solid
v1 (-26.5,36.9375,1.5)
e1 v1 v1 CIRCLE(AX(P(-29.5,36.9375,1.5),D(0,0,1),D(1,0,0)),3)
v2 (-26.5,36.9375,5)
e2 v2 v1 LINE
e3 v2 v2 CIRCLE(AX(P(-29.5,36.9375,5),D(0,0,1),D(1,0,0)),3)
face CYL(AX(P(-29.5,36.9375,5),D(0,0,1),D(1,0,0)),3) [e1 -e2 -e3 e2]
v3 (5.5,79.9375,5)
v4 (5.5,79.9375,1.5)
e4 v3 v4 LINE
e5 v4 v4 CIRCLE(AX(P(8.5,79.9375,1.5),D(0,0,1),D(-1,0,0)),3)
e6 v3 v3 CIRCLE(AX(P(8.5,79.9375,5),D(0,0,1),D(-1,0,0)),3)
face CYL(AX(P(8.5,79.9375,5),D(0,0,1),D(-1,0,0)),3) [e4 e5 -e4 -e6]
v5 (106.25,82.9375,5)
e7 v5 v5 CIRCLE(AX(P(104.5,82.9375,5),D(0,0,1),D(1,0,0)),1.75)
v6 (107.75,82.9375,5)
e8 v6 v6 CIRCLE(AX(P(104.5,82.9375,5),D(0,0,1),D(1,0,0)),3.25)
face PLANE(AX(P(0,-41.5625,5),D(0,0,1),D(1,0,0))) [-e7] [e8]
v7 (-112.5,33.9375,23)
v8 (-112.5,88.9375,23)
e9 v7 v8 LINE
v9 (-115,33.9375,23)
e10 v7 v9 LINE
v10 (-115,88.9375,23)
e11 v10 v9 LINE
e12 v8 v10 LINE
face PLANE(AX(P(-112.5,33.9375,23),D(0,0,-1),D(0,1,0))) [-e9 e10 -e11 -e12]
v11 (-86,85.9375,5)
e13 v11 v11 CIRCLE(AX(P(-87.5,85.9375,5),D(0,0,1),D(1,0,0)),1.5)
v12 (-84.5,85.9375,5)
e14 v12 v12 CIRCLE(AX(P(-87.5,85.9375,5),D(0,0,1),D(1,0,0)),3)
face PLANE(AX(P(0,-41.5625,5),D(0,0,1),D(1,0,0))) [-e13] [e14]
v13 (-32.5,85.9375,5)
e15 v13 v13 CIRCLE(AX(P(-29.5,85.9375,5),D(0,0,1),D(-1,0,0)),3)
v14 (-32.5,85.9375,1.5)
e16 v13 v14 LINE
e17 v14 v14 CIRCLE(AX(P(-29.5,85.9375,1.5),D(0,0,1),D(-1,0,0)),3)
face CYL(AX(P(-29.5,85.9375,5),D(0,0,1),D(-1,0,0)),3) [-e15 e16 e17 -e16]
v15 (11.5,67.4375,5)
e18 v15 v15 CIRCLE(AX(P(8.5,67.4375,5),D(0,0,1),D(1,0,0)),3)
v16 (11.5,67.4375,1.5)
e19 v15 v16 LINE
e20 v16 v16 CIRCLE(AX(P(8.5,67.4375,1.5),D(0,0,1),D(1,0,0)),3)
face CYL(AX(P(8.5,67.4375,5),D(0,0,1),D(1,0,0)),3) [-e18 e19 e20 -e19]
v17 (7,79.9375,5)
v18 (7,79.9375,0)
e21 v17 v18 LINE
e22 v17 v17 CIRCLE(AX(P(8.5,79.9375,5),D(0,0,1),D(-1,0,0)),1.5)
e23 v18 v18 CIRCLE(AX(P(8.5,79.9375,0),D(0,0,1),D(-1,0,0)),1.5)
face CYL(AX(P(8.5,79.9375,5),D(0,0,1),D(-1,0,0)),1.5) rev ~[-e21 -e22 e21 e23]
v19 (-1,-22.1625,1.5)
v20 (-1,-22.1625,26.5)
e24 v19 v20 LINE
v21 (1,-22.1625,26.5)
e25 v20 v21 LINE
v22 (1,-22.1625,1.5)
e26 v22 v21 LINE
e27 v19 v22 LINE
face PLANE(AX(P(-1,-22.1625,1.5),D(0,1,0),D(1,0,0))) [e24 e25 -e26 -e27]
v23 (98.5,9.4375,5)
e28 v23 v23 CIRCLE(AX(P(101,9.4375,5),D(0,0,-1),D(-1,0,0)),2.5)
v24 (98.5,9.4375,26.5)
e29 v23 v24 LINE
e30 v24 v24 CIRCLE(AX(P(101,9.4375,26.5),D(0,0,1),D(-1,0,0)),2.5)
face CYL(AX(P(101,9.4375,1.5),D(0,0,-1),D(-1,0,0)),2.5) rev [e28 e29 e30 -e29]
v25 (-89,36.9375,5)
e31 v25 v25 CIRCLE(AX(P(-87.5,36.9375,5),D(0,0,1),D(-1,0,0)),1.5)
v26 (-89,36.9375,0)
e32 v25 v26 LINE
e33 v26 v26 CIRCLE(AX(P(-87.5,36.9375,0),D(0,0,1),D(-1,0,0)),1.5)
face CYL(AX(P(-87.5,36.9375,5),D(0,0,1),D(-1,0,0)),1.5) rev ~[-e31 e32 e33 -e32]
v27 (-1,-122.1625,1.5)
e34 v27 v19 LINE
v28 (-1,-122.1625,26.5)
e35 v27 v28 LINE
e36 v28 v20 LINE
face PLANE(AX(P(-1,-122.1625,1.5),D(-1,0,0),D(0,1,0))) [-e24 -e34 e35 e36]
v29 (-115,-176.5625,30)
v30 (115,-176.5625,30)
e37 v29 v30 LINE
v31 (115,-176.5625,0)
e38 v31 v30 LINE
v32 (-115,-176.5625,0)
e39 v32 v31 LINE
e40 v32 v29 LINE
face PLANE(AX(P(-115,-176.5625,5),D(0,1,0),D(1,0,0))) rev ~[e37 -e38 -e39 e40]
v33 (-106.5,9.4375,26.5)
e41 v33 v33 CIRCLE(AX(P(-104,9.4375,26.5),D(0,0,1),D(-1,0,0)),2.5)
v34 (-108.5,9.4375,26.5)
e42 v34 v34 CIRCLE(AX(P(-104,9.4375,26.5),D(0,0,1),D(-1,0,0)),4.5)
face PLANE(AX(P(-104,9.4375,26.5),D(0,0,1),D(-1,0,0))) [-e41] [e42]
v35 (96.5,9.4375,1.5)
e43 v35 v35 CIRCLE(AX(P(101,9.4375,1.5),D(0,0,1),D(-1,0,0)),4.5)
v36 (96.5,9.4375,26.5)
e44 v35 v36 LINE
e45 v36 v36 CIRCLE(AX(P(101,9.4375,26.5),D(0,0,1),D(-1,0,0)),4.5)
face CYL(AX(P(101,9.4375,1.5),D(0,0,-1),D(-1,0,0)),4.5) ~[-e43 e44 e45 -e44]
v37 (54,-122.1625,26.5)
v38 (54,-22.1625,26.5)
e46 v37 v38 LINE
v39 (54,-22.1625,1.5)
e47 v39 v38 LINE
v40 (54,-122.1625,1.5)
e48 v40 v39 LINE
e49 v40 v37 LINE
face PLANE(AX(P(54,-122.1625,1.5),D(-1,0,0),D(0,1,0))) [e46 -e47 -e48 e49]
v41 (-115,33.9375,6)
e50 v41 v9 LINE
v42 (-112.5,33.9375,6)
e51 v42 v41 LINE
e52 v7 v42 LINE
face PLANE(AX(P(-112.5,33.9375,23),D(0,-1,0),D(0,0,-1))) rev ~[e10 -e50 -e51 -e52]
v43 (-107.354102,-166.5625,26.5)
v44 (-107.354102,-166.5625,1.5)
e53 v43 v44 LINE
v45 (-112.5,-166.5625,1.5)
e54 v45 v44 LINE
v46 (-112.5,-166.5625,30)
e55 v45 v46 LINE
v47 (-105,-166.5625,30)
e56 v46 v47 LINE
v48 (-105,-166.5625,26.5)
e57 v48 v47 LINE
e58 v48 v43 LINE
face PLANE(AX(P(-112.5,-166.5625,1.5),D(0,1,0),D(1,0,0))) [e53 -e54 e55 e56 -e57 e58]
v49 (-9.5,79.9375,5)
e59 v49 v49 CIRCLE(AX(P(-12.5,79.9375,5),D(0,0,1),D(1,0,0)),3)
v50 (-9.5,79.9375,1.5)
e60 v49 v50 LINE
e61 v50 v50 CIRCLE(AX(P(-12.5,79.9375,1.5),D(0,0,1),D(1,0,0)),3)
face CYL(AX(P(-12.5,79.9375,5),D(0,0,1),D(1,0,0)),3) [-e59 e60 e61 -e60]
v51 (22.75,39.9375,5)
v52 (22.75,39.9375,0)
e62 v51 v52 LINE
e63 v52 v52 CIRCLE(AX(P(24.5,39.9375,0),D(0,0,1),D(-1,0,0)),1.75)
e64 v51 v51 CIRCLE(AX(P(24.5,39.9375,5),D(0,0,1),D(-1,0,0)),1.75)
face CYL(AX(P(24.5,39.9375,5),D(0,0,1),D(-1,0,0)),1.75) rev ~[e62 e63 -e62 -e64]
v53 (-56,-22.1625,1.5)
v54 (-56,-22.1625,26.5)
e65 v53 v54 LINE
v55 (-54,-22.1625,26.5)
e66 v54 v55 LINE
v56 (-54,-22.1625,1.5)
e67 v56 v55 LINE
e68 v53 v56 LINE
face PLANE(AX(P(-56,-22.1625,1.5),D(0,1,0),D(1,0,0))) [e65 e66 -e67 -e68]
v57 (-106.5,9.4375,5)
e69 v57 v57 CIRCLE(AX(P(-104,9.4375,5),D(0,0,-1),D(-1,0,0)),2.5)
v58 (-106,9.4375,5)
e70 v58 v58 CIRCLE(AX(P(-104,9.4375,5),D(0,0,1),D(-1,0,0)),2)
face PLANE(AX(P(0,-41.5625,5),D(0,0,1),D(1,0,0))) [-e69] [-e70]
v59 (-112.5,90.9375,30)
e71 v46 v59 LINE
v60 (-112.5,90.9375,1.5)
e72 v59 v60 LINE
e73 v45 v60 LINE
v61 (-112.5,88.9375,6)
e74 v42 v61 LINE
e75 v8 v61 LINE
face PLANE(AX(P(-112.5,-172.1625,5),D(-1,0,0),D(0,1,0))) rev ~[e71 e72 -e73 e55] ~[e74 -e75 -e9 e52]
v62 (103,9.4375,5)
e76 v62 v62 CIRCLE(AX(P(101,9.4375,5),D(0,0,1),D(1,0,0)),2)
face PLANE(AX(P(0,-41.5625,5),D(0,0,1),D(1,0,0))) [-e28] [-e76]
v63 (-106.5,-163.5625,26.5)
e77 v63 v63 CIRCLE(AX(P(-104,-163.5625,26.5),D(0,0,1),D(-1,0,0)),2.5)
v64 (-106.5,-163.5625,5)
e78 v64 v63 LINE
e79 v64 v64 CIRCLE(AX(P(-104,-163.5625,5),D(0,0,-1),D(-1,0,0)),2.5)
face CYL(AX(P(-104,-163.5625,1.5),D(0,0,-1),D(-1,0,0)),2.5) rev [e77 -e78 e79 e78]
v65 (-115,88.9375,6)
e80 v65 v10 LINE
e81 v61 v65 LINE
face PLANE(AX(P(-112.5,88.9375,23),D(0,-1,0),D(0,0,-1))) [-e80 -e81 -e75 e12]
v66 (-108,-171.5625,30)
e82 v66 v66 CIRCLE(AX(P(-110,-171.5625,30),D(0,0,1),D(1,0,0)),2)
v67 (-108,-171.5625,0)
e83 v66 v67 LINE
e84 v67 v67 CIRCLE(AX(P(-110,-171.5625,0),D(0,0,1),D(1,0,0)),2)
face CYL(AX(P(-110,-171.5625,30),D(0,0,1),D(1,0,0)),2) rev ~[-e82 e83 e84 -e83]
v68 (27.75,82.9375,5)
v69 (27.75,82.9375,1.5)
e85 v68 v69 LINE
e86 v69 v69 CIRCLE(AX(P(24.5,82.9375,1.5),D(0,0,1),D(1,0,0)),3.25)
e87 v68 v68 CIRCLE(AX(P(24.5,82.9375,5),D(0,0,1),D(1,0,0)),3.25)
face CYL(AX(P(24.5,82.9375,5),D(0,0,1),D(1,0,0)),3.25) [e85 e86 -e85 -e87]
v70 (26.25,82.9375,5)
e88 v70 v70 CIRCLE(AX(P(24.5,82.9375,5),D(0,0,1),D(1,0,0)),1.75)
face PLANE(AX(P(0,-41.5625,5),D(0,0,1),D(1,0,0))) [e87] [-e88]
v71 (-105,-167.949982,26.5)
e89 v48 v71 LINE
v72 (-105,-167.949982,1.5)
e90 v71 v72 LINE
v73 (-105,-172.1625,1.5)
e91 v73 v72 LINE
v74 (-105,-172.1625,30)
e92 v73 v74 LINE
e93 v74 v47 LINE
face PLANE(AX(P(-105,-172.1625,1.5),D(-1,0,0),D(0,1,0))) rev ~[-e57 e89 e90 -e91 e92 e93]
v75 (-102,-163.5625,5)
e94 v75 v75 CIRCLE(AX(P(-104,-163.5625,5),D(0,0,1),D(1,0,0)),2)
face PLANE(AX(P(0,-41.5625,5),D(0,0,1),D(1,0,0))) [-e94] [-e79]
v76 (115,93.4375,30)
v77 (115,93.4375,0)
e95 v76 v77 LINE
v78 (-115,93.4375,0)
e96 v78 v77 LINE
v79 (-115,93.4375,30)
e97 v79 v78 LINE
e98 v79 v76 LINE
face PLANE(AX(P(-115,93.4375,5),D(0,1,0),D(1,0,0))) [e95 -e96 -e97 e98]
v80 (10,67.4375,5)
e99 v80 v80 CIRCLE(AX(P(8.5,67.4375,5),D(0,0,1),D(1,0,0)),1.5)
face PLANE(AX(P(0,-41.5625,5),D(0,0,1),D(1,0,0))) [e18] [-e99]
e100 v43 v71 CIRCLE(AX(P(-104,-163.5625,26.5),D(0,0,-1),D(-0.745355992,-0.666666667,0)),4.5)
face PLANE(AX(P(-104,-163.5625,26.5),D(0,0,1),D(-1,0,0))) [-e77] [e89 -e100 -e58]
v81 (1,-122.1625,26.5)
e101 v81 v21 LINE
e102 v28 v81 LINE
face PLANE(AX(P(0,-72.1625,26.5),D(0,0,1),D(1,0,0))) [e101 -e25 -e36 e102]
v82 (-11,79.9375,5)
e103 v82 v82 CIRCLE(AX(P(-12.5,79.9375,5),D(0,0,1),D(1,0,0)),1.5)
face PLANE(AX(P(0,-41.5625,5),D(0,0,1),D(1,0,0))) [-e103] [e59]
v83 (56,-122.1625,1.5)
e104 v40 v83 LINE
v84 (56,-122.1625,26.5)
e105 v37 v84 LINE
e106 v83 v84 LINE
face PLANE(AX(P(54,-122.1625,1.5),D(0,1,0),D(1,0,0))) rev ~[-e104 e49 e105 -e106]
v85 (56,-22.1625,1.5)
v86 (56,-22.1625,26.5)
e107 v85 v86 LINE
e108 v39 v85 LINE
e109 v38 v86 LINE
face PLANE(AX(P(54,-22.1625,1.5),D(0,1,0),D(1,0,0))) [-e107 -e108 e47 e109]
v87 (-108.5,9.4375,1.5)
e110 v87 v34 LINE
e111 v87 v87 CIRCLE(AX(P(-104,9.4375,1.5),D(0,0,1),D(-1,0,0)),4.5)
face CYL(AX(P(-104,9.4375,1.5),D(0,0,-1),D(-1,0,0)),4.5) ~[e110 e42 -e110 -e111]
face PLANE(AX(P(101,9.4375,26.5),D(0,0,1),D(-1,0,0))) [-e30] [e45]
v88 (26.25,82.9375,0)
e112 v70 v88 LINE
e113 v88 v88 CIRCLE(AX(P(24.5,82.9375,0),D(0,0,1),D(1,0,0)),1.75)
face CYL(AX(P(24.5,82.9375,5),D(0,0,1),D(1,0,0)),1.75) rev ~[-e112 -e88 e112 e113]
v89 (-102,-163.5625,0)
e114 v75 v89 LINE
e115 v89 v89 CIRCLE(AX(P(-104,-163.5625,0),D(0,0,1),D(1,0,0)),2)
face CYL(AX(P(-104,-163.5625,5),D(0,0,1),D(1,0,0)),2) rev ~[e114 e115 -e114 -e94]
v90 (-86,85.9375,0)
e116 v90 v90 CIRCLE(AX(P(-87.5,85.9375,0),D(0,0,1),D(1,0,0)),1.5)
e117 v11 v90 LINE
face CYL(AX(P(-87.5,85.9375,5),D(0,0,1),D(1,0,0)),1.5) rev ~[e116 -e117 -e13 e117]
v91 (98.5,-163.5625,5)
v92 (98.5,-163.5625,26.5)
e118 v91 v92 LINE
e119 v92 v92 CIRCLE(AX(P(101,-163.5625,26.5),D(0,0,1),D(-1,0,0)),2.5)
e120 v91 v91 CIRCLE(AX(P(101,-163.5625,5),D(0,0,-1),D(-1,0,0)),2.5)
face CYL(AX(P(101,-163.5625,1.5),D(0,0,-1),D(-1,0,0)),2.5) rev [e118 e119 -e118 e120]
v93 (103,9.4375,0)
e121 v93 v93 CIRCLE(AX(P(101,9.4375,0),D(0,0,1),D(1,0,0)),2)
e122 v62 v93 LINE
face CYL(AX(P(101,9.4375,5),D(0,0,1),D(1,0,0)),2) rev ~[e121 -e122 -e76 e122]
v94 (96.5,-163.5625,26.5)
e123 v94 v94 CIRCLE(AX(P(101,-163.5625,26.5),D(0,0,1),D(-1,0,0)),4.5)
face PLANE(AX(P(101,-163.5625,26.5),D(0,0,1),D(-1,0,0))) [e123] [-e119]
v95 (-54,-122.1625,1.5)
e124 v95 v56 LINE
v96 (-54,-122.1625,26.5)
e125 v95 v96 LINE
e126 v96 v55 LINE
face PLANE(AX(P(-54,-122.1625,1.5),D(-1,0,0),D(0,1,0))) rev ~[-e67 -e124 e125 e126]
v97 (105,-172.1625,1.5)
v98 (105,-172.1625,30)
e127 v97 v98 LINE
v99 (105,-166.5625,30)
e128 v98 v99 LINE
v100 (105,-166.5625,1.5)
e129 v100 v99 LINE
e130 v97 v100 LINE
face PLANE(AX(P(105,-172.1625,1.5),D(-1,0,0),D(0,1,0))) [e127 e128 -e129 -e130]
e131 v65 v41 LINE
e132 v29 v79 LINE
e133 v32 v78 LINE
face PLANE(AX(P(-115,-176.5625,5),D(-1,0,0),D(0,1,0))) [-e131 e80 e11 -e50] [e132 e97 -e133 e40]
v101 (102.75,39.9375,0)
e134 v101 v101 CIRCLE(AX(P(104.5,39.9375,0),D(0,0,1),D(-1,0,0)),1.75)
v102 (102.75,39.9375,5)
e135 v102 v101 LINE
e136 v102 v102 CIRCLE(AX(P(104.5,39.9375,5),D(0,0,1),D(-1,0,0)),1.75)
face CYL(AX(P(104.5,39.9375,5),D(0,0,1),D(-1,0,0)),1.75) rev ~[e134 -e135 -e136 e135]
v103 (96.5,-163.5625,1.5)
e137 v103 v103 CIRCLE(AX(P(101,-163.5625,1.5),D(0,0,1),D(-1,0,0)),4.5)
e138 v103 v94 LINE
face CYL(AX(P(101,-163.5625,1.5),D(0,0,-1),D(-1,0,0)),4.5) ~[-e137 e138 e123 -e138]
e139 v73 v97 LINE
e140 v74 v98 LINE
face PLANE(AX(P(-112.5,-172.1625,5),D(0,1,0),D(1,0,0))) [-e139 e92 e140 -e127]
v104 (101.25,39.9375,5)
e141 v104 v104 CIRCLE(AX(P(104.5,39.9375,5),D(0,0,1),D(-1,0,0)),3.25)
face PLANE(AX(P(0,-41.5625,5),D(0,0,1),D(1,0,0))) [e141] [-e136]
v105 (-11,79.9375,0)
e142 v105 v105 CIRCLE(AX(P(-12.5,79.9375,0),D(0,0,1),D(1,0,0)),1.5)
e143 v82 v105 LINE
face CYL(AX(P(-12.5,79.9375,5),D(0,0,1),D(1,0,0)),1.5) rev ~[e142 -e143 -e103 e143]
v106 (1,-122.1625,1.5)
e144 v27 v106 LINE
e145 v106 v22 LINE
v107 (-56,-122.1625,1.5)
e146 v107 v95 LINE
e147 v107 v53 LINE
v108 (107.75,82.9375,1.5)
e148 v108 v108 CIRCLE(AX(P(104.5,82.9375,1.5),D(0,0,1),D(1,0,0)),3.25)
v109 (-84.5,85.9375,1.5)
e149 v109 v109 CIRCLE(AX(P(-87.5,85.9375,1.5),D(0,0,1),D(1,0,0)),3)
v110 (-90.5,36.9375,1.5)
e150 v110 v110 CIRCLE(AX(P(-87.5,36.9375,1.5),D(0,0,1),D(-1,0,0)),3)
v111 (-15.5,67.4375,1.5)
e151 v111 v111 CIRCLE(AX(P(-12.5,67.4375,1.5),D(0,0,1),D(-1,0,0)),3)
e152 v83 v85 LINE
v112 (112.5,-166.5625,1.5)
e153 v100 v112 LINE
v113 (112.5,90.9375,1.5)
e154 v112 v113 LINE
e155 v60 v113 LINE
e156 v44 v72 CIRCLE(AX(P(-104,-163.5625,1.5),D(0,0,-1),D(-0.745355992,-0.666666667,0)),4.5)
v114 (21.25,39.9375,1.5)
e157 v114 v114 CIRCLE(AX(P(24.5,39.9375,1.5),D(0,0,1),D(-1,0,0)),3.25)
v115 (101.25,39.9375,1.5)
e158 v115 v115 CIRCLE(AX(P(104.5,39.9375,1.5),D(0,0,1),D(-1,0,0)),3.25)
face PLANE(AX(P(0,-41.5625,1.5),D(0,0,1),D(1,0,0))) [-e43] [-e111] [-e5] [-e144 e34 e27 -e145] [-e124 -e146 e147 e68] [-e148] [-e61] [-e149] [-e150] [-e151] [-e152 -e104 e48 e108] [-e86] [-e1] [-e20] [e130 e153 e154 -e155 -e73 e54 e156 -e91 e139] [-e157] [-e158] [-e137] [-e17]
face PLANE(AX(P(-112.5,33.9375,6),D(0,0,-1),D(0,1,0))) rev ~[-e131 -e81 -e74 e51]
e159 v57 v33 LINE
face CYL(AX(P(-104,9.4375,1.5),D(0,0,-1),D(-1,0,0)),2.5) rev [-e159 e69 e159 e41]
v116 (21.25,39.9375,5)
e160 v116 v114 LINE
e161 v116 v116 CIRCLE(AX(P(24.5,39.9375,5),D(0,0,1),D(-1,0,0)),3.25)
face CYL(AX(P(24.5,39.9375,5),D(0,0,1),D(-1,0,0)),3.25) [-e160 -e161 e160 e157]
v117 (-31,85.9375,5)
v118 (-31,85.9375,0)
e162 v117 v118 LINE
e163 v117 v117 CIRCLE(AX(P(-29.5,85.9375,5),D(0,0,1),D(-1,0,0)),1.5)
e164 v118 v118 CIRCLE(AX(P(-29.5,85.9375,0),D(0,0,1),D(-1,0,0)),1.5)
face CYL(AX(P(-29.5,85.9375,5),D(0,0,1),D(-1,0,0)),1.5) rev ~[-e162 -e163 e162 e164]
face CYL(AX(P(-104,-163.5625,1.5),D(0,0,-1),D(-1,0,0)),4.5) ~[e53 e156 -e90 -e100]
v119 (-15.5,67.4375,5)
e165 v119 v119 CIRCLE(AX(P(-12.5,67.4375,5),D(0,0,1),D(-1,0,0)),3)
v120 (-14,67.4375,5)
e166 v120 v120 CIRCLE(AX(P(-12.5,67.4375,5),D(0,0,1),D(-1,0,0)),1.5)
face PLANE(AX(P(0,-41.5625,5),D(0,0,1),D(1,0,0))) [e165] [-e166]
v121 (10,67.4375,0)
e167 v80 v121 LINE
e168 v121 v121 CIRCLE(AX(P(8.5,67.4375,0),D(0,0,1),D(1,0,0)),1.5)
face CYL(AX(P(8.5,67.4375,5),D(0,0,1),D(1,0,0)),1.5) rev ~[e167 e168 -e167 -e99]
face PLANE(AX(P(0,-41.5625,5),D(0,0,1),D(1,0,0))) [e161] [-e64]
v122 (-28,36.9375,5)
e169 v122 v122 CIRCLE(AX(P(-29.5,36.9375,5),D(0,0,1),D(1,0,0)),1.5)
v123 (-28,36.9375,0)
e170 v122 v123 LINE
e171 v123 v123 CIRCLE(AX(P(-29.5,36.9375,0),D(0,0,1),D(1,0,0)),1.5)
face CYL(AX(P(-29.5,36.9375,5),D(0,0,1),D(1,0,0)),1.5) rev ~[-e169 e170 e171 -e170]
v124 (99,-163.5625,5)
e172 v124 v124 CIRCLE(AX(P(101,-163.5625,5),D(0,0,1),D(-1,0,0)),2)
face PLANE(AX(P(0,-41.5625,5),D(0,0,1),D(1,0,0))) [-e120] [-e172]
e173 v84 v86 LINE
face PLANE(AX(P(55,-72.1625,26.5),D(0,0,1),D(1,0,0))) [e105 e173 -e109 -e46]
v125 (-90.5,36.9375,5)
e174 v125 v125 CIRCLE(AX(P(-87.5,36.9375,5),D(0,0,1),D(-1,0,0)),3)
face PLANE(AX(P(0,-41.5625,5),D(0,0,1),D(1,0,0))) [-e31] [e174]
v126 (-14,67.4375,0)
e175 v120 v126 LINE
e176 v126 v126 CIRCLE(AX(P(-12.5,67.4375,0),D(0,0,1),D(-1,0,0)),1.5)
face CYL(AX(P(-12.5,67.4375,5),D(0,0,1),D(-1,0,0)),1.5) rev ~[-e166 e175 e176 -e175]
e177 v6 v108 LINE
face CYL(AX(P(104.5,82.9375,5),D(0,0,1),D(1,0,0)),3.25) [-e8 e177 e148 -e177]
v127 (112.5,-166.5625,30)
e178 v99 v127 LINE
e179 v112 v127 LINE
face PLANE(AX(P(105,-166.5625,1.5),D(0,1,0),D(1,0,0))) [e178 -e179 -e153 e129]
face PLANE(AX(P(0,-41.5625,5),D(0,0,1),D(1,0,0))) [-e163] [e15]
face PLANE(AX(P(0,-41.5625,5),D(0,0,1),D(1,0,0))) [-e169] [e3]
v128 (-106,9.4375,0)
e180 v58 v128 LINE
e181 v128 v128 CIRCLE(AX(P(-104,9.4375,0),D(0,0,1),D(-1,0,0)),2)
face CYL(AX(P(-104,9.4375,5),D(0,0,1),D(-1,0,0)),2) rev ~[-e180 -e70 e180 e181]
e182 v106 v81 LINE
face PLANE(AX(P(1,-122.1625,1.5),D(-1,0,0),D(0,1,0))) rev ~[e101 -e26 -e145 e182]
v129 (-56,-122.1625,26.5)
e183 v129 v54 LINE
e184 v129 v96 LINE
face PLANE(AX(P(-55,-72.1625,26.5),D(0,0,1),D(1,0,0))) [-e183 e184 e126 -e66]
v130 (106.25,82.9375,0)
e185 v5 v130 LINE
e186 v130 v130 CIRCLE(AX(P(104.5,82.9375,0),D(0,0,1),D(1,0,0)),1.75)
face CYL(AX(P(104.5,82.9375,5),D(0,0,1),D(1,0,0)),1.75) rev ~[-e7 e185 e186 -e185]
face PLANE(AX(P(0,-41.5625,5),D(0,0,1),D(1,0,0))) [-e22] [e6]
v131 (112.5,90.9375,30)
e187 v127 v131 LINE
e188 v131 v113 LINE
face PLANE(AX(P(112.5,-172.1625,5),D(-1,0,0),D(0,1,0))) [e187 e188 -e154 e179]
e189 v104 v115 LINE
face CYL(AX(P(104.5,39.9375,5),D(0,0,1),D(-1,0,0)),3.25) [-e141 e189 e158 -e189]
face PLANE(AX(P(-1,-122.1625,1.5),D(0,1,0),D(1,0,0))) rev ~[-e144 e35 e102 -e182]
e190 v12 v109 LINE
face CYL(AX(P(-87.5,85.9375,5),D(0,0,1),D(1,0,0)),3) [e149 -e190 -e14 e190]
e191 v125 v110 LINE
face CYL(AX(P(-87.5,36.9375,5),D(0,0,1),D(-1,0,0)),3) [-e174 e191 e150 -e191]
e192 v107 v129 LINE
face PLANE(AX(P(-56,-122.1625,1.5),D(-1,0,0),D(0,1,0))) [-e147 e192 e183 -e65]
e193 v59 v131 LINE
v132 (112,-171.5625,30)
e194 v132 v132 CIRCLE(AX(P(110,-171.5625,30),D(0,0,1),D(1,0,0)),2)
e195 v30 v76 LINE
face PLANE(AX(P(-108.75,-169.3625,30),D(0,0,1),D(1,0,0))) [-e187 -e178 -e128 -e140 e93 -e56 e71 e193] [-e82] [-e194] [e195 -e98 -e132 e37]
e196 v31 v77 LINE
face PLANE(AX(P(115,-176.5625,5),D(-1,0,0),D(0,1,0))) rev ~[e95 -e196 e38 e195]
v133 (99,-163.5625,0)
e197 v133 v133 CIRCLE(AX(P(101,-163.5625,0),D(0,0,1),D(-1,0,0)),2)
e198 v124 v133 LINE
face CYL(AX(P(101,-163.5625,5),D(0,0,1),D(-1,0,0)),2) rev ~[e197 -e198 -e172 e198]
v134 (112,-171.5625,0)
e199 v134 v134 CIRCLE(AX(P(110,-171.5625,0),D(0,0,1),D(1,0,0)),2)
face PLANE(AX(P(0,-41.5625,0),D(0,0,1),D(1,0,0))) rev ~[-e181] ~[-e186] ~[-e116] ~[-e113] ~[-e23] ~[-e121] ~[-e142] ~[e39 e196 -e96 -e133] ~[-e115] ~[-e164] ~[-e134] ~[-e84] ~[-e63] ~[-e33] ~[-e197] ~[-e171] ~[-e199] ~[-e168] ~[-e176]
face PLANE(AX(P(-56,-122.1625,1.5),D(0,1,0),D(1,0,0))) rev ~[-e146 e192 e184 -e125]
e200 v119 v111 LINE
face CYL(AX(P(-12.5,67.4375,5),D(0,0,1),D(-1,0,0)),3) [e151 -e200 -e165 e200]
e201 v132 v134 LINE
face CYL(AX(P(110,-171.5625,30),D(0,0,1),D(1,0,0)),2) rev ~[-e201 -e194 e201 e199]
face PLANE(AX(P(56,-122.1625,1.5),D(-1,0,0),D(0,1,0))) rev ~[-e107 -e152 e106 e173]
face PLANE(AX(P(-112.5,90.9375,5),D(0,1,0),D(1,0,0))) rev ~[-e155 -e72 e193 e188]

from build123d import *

# Parameters (mm, degrees)
ESQUISSE1_W             = 230
ESQUISSE1_H             = 270
BOSS_EXTRU_1_DEPTH      = 5
ESQUISSE2_R             = 2
ESQUISSE2_R_2           = 1.75
ESQUISSE2_R_3           = 1.5
ENL_V_MAT_EXTRU_1_DEPTH = 5
COQUE3_T                = -1.5
ESQUISSE3_R             = 4.5
ESQUISSE3_R_2           = 2.5
BOSS_EXTRU_3_DEPTH      = 25
ESQUISSE4_W             = 1
ESQUISSE4_H             = 267
BOSS_EXTRU_4_DEPTH      = 3.5
ESQUISSE5_W             = 225
ESQUISSE5_H             = 1
ESQUISSE5_H_2           = 2.9
BOSS_EXTRU_10_DEPTH     = 3.5
ESQUISSE7_W             = 2
ESQUISSE7_H             = 100
BOSS_EXTRU_11_DEPTH     = 25
ESQUISSE8_W             = 230
ESQUISSE8_H             = 270
ESQUISSE8_W_2           = 225
ESQUISSE8_H_2           = 263.1
BOSS_EXTRU_12_DEPTH     = 25
ESQUISSE13_W            = 17
ESQUISSE13_H            = 55
ENL_V_MAT_EXTRU_4_DEPTH = 10
ESQUISSE16_W            = 7.5
ESQUISSE16_H            = 5.6
BOSS_EXTRU_13_DEPTH     = 28.5
ESQUISSE17_R            = 2
ENL_V_MAT_EXTRU_5_DEPTH = 213.83636063


with BuildPart() as part:
    # Esquisse1 → Boss.-Extru.1 (new body)
    with BuildSketch(Plane.XY):
        with Locations((0, -41.5625)):
            Rectangle(ESQUISSE1_W, ESQUISSE1_H)
    extrude(amount=BOSS_EXTRU_1_DEPTH)

    # Esquisse2 → Enlèv. mat.-Extru.1 (cut)
    with BuildSketch(Plane.XY.offset(5)):
        with Locations((-104, -163.5625)):
            Circle(ESQUISSE2_R)
        with Locations(Location((-104, 9.4375, 0), (0, 0, 180))):
            Circle(ESQUISSE2_R)
        with Locations((104.5, 82.9375)):
            Circle(ESQUISSE2_R_2)
        with Locations((24.5, 82.9375)):
            Circle(ESQUISSE2_R_2)
        with Locations(Location((24.5, 39.9375, 0), (0, 0, 180))):
            Circle(ESQUISSE2_R_2)
        with Locations(Location((104.5, 39.9375, 0), (0, 0, 180))):
            Circle(ESQUISSE2_R_2)
        with Locations((-87.5, 85.9375)):
            Circle(ESQUISSE2_R_3)
        with Locations(Location((-29.5, 85.9375, 0), (0, 0, 180))):
            Circle(ESQUISSE2_R_3)
        with Locations((8.5, 67.4375)):
            Circle(ESQUISSE2_R_3)
        with Locations(Location((-12.5, 67.4375, 0), (0, 0, 180))):
            Circle(ESQUISSE2_R_3)
        with Locations((-12.5, 79.9375)):
            Circle(ESQUISSE2_R_3)
        with Locations(Location((8.5, 79.9375, 0), (0, 0, 180))):
            Circle(ESQUISSE2_R_3)
        with Locations(Location((101, -163.5625, 0), (0, 0, 180))):
            Circle(ESQUISSE2_R)
        with Locations((101, 9.4375)):
            Circle(ESQUISSE2_R)
        with Locations(Location((-87.5, 36.9375, 0), (0, 0, 180))):
            Circle(ESQUISSE2_R_3)
        with Locations((-29.5, 36.9375)):
            Circle(ESQUISSE2_R_3)
    extrude(amount=-ENL_V_MAT_EXTRU_1_DEPTH, mode=Mode.SUBTRACT)

    # Coque3
    coque3_openings = [part.faces().sort_by_distance(p)[0] for p in [
        (-0.011238138, -41.697281592, 5),
    ]]
    offset(amount=COQUE3_T, openings=coque3_openings, kind=Kind.INTERSECTION)

    # Esquisse3 → Boss.-Extru.3 (add)
    # profile 1 of 4: a face of its own
    with BuildSketch(Plane.XY.offset(1.5)):
        with Locations(Location((-104, 9.4375, 0), (0, 0, 180))):
            Circle(ESQUISSE3_R)
        with Locations(Location((-104, 9.4375, 0), (0, 0, 180))):
            Circle(ESQUISSE3_R_2, mode=Mode.SUBTRACT)
    # profile 2 of 4: a face of its own
    with BuildSketch(Plane.XY.offset(1.5)):
        with Locations(Location((-104, -163.5625, 0), (0, 0, 180))):
            Circle(ESQUISSE3_R)
        with Locations(Location((-104, -163.5625, 0), (0, 0, 180))):
            Circle(ESQUISSE3_R_2, mode=Mode.SUBTRACT)
    # profile 3 of 4: a face of its own
    with BuildSketch(Plane.XY.offset(1.5)):
        with Locations(Location((101, -163.5625, 0), (0, 0, 180))):
            Circle(ESQUISSE3_R)
        with Locations(Location((101, -163.5625, 0), (0, 0, 180))):
            Circle(ESQUISSE3_R_2, mode=Mode.SUBTRACT)
    # profile 4 of 4: a face of its own
    with BuildSketch(Plane.XY.offset(1.5)):
        with Locations(Location((101, 9.4375, 0), (0, 0, 180))):
            Circle(ESQUISSE3_R)
        with Locations(Location((101, 9.4375, 0), (0, 0, 180))):
            Circle(ESQUISSE3_R_2, mode=Mode.SUBTRACT)
    extrude(amount=BOSS_EXTRU_3_DEPTH)

    # Esquisse4 → Boss.-Extru.4 (add)
    with BuildSketch(Plane.XY.offset(1.5)):
        with Locations((-113, -41.5625)):
            Rectangle(ESQUISSE4_W, ESQUISSE4_H)
        with Locations((113, -41.5625)):
            Rectangle(ESQUISSE4_W, ESQUISSE4_H)
    extrude(amount=BOSS_EXTRU_4_DEPTH)

    # Esquisse5 → Boss.-Extru.10 (add)
    with BuildSketch(Plane.XY.offset(1.5)):
        with Locations((0, 91.4375)):
            Rectangle(ESQUISSE5_W, ESQUISSE5_H)
        with Locations((0, -173.6125)):
            Rectangle(ESQUISSE5_W, ESQUISSE5_H_2)
    extrude(amount=BOSS_EXTRU_10_DEPTH)

    # Esquisse7 → Boss.-Extru.11 (add)
    with BuildSketch(Plane.XY.offset(1.5)):
        with Locations((0, -72.1625)):
            Rectangle(ESQUISSE7_W, ESQUISSE7_H)
        with Locations((-55, -72.1625)):
            Rectangle(ESQUISSE7_W, ESQUISSE7_H)
        with Locations((55, -72.1625)):
            Rectangle(ESQUISSE7_W, ESQUISSE7_H)
    extrude(amount=BOSS_EXTRU_11_DEPTH)

    # Esquisse8 → Boss.-Extru.12 (add)
    with BuildSketch(Plane.XY.offset(5)):
        with Locations((0, -41.5625)):
            Rectangle(ESQUISSE8_W, ESQUISSE8_H)
        with Locations((0, -40.6125)):
            Rectangle(ESQUISSE8_W_2, ESQUISSE8_H_2, mode=Mode.SUBTRACT)
    extrude(amount=BOSS_EXTRU_12_DEPTH)

    # Esquisse13 → Enlèv. mat.-Extru.4 (cut)
    with BuildSketch(Plane(origin=(-112.5, 0, 0), x_dir=(0, 0, -1), z_dir=(1, 0, 0))):
        with Locations((-14.5, 61.4375)):
            Rectangle(ESQUISSE13_W, ESQUISSE13_H)
    extrude(amount=-ENL_V_MAT_EXTRU_4_DEPTH, mode=Mode.SUBTRACT)

    # Esquisse16 → Boss.-Extru.13 (add)
    with BuildSketch(Plane.XY.offset(1.5)):
        with Locations((-108.75, -169.3625)):
            Rectangle(ESQUISSE16_W, ESQUISSE16_H)
        with Locations((108.75, -169.3625)):
            Rectangle(ESQUISSE16_W, ESQUISSE16_H)
    extrude(amount=BOSS_EXTRU_13_DEPTH)

    # Esquisse17 → Enlèv. mat.-Extru.5 (cut, through all)
    with BuildSketch(Plane.XY.offset(30)):
        with Locations((-110, -171.5625)):
            Circle(ESQUISSE17_R)
        with Locations((110, -171.5625)):
            Circle(ESQUISSE17_R)
    extrude(amount=-ENL_V_MAT_EXTRU_5_DEPTH, mode=Mode.SUBTRACT)


solid = part.part
